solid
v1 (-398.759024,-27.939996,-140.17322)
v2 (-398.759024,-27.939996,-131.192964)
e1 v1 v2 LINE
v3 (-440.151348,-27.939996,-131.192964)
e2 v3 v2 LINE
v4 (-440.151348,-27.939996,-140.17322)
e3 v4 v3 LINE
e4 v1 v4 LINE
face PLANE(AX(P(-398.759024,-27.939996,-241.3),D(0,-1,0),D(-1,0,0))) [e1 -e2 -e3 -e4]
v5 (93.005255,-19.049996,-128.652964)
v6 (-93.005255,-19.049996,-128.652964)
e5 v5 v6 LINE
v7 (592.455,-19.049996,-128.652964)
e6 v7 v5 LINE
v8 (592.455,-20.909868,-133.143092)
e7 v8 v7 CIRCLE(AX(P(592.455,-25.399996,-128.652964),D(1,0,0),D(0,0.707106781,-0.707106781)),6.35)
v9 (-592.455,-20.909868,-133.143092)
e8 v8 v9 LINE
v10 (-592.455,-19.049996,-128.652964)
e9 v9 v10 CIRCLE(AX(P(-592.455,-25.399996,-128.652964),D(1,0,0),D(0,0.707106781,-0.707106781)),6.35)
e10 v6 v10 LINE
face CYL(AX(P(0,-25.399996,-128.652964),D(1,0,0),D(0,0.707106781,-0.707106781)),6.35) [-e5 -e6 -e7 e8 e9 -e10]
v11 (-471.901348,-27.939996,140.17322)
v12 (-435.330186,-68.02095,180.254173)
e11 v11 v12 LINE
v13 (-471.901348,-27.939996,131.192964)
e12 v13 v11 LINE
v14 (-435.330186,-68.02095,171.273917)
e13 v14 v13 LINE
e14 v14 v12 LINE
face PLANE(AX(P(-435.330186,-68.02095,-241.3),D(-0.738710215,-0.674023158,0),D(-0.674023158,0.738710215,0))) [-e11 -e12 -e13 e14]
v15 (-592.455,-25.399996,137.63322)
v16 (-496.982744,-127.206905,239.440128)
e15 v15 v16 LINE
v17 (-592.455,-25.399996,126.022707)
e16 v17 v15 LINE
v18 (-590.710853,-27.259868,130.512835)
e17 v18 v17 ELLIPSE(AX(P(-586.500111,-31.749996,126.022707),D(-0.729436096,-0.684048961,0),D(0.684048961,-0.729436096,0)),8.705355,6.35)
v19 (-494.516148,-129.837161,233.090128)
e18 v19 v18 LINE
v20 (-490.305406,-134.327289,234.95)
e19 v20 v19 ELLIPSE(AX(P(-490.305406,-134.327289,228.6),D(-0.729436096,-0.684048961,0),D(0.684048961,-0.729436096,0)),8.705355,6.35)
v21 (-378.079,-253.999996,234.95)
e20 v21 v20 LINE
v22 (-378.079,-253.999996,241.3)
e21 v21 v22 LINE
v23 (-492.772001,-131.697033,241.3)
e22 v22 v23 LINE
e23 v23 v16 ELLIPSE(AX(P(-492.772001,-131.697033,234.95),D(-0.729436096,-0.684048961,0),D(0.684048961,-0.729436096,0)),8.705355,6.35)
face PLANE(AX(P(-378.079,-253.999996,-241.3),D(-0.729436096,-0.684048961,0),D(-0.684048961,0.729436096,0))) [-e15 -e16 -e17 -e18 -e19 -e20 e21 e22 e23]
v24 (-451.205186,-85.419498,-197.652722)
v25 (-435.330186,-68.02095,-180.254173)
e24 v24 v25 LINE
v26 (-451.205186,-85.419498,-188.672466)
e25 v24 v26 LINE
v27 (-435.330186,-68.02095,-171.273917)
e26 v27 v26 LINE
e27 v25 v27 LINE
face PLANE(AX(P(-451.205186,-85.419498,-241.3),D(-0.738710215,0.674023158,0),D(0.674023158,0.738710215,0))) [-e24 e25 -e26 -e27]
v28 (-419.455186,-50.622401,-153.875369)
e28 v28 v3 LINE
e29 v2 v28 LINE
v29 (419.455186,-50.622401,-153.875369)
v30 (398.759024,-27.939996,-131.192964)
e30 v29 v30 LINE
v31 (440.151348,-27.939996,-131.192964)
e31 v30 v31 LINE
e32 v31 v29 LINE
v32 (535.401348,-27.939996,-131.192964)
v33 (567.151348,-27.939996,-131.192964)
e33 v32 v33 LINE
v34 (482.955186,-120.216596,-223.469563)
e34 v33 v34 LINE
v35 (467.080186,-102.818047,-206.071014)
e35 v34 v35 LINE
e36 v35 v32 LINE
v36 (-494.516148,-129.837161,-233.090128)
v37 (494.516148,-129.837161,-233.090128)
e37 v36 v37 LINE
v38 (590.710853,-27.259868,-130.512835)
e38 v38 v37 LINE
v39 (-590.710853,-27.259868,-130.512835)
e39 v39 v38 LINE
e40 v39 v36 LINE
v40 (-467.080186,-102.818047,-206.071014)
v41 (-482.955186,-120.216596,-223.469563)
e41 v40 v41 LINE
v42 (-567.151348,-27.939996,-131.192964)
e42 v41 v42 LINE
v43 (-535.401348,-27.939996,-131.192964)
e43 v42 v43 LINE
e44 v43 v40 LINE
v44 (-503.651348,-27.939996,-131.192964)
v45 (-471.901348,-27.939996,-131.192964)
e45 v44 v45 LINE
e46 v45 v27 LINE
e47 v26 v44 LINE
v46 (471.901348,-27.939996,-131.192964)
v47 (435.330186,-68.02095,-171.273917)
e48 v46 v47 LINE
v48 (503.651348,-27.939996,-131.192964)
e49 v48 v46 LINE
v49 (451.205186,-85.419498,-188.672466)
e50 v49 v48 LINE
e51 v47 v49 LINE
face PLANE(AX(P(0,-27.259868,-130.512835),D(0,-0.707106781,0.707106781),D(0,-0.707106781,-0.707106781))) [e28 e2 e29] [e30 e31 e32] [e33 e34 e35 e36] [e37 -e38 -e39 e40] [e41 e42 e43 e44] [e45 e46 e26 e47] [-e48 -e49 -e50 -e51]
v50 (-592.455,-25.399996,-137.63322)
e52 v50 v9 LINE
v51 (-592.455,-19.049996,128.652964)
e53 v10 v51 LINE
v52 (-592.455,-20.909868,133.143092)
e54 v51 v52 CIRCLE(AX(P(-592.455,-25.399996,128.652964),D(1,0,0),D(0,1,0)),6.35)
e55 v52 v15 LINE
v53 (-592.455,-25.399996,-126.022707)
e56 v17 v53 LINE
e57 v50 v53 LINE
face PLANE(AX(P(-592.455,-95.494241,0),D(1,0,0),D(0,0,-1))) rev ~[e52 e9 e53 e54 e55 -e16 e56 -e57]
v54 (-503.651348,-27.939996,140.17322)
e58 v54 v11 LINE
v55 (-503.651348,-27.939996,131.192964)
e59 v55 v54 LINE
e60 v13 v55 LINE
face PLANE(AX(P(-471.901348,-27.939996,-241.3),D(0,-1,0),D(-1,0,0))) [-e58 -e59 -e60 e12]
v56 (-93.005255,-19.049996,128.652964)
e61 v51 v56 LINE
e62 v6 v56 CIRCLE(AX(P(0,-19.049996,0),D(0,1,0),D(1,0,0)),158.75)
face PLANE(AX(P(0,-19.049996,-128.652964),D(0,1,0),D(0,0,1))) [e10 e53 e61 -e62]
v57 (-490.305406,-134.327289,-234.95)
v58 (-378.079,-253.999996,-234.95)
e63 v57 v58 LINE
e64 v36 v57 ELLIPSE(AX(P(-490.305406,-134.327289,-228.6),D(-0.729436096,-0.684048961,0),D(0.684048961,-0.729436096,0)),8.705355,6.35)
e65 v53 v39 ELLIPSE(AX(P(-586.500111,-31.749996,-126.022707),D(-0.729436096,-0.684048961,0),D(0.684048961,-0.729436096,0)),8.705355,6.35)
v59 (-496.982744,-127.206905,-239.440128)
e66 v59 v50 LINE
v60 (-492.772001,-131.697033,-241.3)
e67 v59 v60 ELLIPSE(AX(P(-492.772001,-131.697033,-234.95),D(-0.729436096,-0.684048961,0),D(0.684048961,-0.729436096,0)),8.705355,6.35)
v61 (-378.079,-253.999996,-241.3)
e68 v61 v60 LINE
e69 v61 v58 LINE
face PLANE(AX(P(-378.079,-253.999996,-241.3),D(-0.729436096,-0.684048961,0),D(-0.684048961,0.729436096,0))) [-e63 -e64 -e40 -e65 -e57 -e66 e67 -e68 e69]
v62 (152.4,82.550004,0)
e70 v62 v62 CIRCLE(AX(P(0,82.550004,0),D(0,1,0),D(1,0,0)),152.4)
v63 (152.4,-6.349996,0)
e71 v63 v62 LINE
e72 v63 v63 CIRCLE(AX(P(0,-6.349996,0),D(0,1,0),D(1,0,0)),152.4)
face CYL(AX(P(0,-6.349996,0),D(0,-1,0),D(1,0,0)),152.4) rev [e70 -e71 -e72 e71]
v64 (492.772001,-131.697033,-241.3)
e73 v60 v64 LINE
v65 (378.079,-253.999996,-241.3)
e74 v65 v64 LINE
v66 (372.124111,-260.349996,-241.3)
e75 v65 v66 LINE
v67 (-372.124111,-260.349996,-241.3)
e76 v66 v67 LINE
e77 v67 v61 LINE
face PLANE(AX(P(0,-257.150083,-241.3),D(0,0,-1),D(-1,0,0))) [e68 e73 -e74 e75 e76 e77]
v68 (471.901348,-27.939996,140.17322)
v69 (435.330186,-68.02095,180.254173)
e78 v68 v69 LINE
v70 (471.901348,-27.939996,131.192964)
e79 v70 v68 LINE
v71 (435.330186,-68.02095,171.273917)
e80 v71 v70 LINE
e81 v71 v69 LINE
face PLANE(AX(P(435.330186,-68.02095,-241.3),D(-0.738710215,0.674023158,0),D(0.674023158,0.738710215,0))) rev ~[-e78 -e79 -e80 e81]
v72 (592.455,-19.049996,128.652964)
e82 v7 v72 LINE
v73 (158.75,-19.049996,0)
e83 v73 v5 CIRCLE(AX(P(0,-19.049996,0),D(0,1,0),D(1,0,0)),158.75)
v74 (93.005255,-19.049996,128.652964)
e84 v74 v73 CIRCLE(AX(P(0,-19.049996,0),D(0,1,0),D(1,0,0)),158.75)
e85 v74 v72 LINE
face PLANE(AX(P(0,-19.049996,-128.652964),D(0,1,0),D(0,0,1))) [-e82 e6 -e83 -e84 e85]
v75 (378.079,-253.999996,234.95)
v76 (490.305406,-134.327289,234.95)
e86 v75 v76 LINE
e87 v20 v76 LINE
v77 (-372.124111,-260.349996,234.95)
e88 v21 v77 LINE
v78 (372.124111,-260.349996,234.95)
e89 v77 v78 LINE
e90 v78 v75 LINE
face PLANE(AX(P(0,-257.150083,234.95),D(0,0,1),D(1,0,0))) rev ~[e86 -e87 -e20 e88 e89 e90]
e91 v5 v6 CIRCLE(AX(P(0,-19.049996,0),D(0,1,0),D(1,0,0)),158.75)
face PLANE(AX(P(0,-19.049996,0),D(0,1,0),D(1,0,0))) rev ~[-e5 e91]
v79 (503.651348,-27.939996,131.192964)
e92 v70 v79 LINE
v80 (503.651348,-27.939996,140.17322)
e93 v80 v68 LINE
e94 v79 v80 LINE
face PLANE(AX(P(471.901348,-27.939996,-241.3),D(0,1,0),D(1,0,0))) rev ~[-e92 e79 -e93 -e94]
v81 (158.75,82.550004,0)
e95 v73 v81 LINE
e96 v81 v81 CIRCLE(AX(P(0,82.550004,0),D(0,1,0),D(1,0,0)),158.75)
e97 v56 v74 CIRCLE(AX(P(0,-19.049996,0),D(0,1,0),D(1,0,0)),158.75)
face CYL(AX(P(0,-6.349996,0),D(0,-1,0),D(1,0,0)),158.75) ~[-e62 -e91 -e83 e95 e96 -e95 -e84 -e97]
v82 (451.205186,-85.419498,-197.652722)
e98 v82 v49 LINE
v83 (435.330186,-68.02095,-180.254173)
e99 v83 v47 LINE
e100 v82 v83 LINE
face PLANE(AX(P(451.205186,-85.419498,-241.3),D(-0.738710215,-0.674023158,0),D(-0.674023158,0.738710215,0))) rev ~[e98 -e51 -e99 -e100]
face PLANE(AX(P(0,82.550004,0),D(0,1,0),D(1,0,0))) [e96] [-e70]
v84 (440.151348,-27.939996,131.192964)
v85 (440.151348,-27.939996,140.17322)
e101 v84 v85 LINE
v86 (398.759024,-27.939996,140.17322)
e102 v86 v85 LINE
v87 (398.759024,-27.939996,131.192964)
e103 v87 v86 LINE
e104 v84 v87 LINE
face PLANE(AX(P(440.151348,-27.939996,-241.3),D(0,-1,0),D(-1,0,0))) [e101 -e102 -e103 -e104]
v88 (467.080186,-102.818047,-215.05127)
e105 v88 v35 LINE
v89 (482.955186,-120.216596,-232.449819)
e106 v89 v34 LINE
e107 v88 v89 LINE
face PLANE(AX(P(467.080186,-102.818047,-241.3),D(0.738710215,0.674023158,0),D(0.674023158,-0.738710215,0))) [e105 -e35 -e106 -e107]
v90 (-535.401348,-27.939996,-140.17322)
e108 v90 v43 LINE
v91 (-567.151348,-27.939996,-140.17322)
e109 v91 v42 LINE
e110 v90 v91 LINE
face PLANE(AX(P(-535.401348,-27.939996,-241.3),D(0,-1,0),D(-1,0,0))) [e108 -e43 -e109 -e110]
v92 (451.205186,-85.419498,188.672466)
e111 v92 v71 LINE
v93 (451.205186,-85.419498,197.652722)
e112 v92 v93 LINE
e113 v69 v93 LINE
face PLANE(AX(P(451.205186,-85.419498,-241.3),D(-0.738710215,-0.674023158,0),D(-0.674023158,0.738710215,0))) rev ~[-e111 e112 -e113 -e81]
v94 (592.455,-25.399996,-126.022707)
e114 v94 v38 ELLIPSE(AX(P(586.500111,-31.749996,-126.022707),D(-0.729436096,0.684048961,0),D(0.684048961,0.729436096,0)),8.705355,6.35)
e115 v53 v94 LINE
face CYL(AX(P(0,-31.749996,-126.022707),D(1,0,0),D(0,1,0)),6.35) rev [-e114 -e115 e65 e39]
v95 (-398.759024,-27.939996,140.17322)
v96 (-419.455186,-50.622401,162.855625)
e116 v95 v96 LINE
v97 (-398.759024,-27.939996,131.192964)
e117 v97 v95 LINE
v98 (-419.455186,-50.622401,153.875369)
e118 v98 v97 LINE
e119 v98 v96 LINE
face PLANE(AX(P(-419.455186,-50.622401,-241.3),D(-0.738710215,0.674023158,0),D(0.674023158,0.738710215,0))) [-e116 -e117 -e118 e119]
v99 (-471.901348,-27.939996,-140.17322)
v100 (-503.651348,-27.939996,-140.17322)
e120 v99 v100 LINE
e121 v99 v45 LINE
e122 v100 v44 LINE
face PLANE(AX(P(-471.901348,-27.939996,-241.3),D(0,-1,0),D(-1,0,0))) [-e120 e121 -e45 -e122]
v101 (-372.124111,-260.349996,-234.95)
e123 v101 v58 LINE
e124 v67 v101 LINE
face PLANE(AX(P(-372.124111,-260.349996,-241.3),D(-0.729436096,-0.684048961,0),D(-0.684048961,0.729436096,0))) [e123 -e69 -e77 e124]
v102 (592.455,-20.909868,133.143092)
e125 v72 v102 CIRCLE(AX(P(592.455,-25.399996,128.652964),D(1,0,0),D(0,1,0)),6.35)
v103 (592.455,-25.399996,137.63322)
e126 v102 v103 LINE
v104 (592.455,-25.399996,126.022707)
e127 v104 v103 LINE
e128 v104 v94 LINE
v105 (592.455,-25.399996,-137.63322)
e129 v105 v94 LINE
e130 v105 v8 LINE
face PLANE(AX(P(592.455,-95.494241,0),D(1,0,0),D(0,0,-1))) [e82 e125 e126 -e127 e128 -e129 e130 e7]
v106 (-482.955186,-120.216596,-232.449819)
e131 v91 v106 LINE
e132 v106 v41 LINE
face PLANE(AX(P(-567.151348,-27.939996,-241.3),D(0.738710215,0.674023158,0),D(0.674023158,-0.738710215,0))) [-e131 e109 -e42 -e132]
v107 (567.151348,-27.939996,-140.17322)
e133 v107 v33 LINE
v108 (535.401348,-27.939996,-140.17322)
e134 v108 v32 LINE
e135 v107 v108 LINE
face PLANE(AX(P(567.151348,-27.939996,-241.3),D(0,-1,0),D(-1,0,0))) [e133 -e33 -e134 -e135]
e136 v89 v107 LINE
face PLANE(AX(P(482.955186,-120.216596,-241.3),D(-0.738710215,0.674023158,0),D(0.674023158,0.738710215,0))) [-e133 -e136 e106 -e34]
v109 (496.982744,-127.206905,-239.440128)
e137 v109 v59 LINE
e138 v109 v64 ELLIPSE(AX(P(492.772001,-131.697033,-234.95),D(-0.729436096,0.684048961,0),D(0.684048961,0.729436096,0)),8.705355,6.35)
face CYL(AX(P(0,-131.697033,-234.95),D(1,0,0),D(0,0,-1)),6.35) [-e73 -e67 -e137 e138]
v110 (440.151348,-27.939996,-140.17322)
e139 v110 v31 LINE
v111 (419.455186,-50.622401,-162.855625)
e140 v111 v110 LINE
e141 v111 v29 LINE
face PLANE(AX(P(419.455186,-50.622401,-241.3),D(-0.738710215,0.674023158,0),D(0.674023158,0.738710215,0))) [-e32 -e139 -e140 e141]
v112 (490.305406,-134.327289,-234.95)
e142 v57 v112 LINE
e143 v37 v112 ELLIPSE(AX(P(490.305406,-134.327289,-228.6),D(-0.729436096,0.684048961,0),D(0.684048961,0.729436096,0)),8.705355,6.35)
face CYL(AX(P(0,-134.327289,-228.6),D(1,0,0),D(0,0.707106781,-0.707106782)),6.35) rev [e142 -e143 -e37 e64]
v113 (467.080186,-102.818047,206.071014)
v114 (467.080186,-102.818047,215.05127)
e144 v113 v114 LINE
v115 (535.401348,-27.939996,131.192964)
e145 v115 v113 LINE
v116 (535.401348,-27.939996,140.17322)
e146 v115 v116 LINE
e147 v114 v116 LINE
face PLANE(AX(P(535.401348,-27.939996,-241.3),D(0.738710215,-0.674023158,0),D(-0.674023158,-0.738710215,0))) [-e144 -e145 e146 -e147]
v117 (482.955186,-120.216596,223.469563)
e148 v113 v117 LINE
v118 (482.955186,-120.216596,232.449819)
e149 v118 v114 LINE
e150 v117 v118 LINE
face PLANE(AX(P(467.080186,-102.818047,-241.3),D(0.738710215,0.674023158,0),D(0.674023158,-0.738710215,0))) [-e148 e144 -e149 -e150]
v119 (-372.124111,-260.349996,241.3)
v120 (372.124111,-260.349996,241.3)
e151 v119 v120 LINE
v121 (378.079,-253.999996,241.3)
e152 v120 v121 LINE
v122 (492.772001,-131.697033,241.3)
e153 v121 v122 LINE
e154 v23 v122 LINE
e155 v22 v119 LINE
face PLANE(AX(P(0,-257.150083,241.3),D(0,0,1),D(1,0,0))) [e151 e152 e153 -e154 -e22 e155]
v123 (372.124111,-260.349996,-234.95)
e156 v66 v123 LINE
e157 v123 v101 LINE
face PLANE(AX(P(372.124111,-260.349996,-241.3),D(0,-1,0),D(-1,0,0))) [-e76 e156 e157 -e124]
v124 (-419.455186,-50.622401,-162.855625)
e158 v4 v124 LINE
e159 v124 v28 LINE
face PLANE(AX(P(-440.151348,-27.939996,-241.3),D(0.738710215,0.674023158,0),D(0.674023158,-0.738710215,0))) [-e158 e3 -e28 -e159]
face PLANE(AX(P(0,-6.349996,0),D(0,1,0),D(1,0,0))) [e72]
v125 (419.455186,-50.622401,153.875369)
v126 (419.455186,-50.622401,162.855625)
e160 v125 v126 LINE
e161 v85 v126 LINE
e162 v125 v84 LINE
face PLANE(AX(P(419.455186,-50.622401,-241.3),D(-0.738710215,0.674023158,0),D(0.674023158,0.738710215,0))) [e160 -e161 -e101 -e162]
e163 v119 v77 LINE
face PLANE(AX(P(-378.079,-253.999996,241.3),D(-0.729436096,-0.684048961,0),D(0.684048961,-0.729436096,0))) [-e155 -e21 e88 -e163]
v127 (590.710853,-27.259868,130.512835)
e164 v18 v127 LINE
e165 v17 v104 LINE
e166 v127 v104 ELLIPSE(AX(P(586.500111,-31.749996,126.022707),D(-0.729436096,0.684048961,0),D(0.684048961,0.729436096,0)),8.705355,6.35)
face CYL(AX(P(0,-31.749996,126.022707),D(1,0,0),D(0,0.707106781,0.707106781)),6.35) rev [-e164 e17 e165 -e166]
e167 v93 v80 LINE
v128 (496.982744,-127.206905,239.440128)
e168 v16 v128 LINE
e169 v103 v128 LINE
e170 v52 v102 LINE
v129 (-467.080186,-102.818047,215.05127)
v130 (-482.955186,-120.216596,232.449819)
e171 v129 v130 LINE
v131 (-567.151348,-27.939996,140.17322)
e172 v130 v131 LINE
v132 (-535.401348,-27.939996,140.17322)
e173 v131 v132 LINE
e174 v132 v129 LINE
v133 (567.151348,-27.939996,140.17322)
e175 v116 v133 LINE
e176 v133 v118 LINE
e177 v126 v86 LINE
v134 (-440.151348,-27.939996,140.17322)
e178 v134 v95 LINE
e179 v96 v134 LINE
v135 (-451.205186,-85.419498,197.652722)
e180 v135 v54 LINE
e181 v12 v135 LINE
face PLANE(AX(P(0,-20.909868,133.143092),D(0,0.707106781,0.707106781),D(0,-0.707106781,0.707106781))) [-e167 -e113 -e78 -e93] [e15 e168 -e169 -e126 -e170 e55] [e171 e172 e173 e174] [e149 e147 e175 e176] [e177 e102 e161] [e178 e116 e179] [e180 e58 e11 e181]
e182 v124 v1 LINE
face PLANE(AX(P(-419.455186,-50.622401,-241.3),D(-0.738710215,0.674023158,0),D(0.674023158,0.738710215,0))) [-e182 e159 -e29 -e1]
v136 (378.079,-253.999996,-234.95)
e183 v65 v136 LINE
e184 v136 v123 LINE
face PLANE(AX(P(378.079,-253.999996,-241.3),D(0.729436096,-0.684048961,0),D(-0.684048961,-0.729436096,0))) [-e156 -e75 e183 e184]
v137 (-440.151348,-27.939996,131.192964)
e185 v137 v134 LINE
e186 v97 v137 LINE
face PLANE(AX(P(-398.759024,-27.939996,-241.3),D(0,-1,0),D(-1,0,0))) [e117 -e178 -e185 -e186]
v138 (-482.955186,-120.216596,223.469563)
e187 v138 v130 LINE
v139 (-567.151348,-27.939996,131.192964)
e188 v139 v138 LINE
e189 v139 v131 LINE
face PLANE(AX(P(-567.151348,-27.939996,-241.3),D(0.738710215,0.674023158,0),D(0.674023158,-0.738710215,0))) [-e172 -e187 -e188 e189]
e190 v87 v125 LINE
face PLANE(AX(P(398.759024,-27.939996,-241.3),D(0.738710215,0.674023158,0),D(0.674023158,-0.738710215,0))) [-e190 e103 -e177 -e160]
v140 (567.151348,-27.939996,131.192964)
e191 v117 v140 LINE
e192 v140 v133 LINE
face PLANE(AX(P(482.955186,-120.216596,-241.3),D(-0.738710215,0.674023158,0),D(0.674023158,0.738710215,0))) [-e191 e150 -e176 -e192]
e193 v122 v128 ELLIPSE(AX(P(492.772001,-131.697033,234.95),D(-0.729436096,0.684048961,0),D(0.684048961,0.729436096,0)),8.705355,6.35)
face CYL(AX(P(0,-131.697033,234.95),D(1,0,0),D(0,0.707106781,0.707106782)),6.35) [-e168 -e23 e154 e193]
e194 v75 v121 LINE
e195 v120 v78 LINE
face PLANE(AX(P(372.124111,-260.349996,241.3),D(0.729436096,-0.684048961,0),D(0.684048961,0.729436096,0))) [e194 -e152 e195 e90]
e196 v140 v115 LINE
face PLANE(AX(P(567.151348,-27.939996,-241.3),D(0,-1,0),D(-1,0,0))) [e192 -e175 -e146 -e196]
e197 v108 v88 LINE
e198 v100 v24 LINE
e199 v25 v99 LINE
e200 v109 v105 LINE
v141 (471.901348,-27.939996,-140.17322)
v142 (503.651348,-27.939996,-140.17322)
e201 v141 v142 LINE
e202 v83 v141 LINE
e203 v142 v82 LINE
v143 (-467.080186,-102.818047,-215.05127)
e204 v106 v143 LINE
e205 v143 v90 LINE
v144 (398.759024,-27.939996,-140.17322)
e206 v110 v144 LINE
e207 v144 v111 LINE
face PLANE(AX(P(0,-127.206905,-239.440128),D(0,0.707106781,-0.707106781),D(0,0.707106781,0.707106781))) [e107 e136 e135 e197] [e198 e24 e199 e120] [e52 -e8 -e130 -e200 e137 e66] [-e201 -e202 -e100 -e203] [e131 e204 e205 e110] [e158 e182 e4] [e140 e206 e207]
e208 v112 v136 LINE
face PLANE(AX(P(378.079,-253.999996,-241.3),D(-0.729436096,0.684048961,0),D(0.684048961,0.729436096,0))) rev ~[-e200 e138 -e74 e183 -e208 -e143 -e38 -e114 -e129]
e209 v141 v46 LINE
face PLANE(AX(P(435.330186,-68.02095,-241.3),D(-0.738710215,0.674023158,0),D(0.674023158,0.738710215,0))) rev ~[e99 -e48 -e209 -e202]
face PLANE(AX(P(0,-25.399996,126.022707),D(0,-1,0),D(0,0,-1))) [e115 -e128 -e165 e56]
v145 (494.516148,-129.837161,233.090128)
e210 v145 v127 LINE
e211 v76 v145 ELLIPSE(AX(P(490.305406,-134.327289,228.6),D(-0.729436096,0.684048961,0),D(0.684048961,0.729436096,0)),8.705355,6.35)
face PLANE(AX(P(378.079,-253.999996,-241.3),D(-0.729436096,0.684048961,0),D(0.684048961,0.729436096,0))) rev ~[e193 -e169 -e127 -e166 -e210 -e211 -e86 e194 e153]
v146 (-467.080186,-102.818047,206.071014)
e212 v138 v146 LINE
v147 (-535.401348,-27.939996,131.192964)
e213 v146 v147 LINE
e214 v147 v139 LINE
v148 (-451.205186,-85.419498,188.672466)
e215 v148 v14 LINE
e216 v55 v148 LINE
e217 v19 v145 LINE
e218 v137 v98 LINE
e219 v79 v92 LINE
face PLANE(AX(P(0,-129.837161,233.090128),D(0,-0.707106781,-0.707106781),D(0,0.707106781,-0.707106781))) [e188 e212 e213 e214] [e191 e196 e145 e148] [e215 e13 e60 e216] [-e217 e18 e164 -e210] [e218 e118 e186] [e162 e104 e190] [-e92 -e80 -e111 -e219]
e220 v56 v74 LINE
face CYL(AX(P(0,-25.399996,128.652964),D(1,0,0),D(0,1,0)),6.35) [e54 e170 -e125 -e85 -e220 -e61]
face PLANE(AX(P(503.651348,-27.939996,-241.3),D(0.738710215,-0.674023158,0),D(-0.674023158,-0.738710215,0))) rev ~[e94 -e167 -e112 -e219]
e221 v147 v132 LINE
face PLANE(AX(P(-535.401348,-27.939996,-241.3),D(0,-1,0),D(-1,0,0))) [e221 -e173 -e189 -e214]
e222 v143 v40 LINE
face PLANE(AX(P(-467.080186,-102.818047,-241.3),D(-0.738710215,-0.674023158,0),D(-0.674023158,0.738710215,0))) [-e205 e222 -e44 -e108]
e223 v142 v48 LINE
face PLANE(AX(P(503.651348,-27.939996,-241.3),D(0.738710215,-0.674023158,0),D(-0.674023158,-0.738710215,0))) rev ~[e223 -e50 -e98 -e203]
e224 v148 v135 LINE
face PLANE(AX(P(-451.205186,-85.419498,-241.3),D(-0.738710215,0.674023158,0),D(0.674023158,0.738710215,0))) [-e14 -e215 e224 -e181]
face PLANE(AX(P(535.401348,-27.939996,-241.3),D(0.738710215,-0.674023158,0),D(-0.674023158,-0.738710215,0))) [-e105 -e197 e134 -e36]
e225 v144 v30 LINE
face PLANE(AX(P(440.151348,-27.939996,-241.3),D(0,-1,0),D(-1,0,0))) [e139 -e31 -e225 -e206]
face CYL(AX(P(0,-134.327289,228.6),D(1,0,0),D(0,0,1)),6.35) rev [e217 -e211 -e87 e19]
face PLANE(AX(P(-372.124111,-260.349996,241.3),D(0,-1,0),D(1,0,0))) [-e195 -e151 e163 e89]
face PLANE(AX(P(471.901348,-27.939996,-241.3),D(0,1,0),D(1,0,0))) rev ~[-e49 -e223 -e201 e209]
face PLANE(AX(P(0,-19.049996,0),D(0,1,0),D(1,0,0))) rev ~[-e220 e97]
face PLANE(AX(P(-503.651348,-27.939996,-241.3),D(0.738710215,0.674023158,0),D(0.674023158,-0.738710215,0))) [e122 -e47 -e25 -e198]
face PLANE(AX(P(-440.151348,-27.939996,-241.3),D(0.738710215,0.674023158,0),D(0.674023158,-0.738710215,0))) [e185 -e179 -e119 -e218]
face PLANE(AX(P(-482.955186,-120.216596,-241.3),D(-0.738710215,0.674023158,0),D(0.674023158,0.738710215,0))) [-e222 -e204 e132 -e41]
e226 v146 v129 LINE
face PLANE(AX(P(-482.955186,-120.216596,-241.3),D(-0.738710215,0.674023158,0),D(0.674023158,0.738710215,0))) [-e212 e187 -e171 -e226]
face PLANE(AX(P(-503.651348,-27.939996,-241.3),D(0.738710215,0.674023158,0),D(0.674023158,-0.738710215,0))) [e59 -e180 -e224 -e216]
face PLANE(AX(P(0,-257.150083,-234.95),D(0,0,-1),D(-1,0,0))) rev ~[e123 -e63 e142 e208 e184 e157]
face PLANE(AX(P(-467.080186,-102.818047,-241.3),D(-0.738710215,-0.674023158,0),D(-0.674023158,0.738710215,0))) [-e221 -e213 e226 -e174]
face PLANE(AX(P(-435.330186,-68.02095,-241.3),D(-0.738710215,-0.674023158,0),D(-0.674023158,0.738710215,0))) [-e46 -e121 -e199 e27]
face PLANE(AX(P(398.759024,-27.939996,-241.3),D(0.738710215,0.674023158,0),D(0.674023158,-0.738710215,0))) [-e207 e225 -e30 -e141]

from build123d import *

# Parameters (mm, degrees)
BOSS_EXTRUDE1_DEPTH = 592.455
CUT_EXTRUDE1_DEPTH  = 482.6
BOSS_EXTRUDE2_DEPTH = 6.35
BOSS_EXTRUDE3_DEPTH = 6.35
SKETCH5_R           = 158.75
BOSS_EXTRUDE4_DEPTH = 12.7
SKETCH6_R           = 158.75
SKETCH6_R_2         = 152.4
BOSS_EXTRUDE5_DEPTH = 88.9


with BuildPart() as part:
    # Sketch1 → Boss-Extrude1 (new body, symmetric)
    with BuildSketch(Plane(origin=(0, 0, 0), x_dir=(0, 0, -1), z_dir=(1, 0, 0))):
        with BuildLine():
            Line((128.652963539, -19.049996224), (-128.652963539, -19.049996224))
            ThreePointArc((-128.652963539, -19.049996224), (-131.083003335, -19.533361193), (-133.1430916, -20.909868164))
            Line((-133.1430916, -20.909868164), (-239.440128061, -127.206904624))
            ThreePointArc((-239.440128061, -127.206904624), (-240.816635031, -129.266992889), (-241.3, -131.697032685))
            Line((-241.3, -131.697032685), (-241.3, -253.999996224))
            Line((-241.3, -253.999996224), (-234.95, -253.999996224))
            Line((-234.95, -253.999996224), (-234.95, -134.327288806))
            ThreePointArc((-234.95, -134.327288806), (-234.466635031, -131.89724901), (-233.090128061, -129.837160745))
            Line((-233.090128061, -129.837160745), (-130.512835479, -27.259868164))
            ThreePointArc((-130.512835479, -27.259868164), (-128.452747214, -25.883361193), (-126.022707418, -25.399996224))
            Line((-126.022707418, -25.399996224), (126.022707418, -25.399996224))
            ThreePointArc((126.022707418, -25.399996224), (128.452747214, -25.883361193), (130.512835479, -27.259868164))
            Line((130.512835479, -27.259868164), (233.090128061, -129.837160745))
            ThreePointArc((233.090128061, -129.837160745), (234.466635031, -131.89724901), (234.95, -134.327288806))
            Line((234.95, -134.327288806), (234.95, -253.999996224))
            Line((234.95, -253.999996224), (241.3, -253.999996224))
            Line((241.3, -253.999996224), (241.3, -131.697032685))
            ThreePointArc((241.3, -131.697032685), (240.816635031, -129.266992889), (239.440128061, -127.206904624))
            Line((239.440128061, -127.206904624), (133.1430916, -20.909868164))
            ThreePointArc((133.1430916, -20.909868164), (131.083003335, -19.533361193), (128.652963539, -19.049996224))
        make_face()
    extrude(amount=BOSS_EXTRUDE1_DEPTH, both=True)

    # Sketch2 → Cut-Extrude1 (cut)
    with BuildSketch(Plane(origin=(0, 0, -241.3), x_dir=(-1, 0, 0), z_dir=(0, 0, -1))):
        Polygon((-592.455, -253.999996224), (-378.079, -253.999996224), (-592.455, -25.399996224), align=None)
        Polygon((-535.401348451, -27.939996224), (-467.080186427, -102.818047021), (-482.955186427, -120.216595599), (-567.151348451, -27.939996224), align=None)
        Polygon((-398.759024402, -27.939996224), (-419.455186427, -50.622401287), (-440.151348451, -27.939996224), align=None)
        Polygon((-503.651348451, -27.939996224), (-451.205186427, -85.419498443), (-435.330186427, -68.020949865), (-471.901348451, -27.939996224), align=None)
        Polygon((398.759024402, -27.939996224), (440.151348451, -27.939996224), (419.455186427, -50.622401287), align=None)
        Polygon((471.901348451, -27.939996224), (503.651348451, -27.939996224), (451.205186427, -85.419498443), (435.330186427, -68.020949865), align=None)
        Polygon((535.401348451, -27.939996224), (567.151348451, -27.939996224), (482.955186427, -120.216595599), (467.080186427, -102.818047021), align=None)
        Polygon((592.455, -25.399996224), (592.455, -253.999996224), (378.079, -253.999996224), align=None)
    extrude(amount=-CUT_EXTRUDE1_DEPTH, mode=Mode.SUBTRACT)

    # Sketch3 → Boss-Extrude2 (add)
    with BuildSketch(Plane(origin=(0, 0, -241.3), x_dir=(-1, 0, 0), z_dir=(0, 0, -1))):
        Polygon((-372.124111111, -260.349996224), (372.124111111, -260.349996224), (378.079, -253.999996224), (-378.079, -253.999996224), align=None)
    extrude(amount=-BOSS_EXTRUDE2_DEPTH)

    # Sketch4 → Boss-Extrude3 (add)
    with BuildSketch(Plane.XY.offset(241.3)):
        Polygon((-372.124111111, -260.349996224), (372.124111111, -260.349996224), (378.079, -253.999996224), (-378.079, -253.999996224), align=None)
    extrude(amount=-BOSS_EXTRUDE3_DEPTH)

    # Sketch5 → Boss-Extrude4 (add)
    with BuildSketch(Plane(origin=(0, -19.049996224, 0), x_dir=(1, 0, 0), z_dir=(0, 1, 0))):
        Circle(SKETCH5_R)
    extrude(amount=BOSS_EXTRUDE4_DEPTH)

    # Sketch6 → Boss-Extrude5 (add)
    with BuildSketch(Plane(origin=(0, -6.349996224, 0), x_dir=(1, 0, 0), z_dir=(0, 1, 0))):
        Circle(SKETCH6_R)
        Circle(SKETCH6_R_2, mode=Mode.SUBTRACT)
    extrude(amount=BOSS_EXTRUDE5_DEPTH)


solid = part.part
